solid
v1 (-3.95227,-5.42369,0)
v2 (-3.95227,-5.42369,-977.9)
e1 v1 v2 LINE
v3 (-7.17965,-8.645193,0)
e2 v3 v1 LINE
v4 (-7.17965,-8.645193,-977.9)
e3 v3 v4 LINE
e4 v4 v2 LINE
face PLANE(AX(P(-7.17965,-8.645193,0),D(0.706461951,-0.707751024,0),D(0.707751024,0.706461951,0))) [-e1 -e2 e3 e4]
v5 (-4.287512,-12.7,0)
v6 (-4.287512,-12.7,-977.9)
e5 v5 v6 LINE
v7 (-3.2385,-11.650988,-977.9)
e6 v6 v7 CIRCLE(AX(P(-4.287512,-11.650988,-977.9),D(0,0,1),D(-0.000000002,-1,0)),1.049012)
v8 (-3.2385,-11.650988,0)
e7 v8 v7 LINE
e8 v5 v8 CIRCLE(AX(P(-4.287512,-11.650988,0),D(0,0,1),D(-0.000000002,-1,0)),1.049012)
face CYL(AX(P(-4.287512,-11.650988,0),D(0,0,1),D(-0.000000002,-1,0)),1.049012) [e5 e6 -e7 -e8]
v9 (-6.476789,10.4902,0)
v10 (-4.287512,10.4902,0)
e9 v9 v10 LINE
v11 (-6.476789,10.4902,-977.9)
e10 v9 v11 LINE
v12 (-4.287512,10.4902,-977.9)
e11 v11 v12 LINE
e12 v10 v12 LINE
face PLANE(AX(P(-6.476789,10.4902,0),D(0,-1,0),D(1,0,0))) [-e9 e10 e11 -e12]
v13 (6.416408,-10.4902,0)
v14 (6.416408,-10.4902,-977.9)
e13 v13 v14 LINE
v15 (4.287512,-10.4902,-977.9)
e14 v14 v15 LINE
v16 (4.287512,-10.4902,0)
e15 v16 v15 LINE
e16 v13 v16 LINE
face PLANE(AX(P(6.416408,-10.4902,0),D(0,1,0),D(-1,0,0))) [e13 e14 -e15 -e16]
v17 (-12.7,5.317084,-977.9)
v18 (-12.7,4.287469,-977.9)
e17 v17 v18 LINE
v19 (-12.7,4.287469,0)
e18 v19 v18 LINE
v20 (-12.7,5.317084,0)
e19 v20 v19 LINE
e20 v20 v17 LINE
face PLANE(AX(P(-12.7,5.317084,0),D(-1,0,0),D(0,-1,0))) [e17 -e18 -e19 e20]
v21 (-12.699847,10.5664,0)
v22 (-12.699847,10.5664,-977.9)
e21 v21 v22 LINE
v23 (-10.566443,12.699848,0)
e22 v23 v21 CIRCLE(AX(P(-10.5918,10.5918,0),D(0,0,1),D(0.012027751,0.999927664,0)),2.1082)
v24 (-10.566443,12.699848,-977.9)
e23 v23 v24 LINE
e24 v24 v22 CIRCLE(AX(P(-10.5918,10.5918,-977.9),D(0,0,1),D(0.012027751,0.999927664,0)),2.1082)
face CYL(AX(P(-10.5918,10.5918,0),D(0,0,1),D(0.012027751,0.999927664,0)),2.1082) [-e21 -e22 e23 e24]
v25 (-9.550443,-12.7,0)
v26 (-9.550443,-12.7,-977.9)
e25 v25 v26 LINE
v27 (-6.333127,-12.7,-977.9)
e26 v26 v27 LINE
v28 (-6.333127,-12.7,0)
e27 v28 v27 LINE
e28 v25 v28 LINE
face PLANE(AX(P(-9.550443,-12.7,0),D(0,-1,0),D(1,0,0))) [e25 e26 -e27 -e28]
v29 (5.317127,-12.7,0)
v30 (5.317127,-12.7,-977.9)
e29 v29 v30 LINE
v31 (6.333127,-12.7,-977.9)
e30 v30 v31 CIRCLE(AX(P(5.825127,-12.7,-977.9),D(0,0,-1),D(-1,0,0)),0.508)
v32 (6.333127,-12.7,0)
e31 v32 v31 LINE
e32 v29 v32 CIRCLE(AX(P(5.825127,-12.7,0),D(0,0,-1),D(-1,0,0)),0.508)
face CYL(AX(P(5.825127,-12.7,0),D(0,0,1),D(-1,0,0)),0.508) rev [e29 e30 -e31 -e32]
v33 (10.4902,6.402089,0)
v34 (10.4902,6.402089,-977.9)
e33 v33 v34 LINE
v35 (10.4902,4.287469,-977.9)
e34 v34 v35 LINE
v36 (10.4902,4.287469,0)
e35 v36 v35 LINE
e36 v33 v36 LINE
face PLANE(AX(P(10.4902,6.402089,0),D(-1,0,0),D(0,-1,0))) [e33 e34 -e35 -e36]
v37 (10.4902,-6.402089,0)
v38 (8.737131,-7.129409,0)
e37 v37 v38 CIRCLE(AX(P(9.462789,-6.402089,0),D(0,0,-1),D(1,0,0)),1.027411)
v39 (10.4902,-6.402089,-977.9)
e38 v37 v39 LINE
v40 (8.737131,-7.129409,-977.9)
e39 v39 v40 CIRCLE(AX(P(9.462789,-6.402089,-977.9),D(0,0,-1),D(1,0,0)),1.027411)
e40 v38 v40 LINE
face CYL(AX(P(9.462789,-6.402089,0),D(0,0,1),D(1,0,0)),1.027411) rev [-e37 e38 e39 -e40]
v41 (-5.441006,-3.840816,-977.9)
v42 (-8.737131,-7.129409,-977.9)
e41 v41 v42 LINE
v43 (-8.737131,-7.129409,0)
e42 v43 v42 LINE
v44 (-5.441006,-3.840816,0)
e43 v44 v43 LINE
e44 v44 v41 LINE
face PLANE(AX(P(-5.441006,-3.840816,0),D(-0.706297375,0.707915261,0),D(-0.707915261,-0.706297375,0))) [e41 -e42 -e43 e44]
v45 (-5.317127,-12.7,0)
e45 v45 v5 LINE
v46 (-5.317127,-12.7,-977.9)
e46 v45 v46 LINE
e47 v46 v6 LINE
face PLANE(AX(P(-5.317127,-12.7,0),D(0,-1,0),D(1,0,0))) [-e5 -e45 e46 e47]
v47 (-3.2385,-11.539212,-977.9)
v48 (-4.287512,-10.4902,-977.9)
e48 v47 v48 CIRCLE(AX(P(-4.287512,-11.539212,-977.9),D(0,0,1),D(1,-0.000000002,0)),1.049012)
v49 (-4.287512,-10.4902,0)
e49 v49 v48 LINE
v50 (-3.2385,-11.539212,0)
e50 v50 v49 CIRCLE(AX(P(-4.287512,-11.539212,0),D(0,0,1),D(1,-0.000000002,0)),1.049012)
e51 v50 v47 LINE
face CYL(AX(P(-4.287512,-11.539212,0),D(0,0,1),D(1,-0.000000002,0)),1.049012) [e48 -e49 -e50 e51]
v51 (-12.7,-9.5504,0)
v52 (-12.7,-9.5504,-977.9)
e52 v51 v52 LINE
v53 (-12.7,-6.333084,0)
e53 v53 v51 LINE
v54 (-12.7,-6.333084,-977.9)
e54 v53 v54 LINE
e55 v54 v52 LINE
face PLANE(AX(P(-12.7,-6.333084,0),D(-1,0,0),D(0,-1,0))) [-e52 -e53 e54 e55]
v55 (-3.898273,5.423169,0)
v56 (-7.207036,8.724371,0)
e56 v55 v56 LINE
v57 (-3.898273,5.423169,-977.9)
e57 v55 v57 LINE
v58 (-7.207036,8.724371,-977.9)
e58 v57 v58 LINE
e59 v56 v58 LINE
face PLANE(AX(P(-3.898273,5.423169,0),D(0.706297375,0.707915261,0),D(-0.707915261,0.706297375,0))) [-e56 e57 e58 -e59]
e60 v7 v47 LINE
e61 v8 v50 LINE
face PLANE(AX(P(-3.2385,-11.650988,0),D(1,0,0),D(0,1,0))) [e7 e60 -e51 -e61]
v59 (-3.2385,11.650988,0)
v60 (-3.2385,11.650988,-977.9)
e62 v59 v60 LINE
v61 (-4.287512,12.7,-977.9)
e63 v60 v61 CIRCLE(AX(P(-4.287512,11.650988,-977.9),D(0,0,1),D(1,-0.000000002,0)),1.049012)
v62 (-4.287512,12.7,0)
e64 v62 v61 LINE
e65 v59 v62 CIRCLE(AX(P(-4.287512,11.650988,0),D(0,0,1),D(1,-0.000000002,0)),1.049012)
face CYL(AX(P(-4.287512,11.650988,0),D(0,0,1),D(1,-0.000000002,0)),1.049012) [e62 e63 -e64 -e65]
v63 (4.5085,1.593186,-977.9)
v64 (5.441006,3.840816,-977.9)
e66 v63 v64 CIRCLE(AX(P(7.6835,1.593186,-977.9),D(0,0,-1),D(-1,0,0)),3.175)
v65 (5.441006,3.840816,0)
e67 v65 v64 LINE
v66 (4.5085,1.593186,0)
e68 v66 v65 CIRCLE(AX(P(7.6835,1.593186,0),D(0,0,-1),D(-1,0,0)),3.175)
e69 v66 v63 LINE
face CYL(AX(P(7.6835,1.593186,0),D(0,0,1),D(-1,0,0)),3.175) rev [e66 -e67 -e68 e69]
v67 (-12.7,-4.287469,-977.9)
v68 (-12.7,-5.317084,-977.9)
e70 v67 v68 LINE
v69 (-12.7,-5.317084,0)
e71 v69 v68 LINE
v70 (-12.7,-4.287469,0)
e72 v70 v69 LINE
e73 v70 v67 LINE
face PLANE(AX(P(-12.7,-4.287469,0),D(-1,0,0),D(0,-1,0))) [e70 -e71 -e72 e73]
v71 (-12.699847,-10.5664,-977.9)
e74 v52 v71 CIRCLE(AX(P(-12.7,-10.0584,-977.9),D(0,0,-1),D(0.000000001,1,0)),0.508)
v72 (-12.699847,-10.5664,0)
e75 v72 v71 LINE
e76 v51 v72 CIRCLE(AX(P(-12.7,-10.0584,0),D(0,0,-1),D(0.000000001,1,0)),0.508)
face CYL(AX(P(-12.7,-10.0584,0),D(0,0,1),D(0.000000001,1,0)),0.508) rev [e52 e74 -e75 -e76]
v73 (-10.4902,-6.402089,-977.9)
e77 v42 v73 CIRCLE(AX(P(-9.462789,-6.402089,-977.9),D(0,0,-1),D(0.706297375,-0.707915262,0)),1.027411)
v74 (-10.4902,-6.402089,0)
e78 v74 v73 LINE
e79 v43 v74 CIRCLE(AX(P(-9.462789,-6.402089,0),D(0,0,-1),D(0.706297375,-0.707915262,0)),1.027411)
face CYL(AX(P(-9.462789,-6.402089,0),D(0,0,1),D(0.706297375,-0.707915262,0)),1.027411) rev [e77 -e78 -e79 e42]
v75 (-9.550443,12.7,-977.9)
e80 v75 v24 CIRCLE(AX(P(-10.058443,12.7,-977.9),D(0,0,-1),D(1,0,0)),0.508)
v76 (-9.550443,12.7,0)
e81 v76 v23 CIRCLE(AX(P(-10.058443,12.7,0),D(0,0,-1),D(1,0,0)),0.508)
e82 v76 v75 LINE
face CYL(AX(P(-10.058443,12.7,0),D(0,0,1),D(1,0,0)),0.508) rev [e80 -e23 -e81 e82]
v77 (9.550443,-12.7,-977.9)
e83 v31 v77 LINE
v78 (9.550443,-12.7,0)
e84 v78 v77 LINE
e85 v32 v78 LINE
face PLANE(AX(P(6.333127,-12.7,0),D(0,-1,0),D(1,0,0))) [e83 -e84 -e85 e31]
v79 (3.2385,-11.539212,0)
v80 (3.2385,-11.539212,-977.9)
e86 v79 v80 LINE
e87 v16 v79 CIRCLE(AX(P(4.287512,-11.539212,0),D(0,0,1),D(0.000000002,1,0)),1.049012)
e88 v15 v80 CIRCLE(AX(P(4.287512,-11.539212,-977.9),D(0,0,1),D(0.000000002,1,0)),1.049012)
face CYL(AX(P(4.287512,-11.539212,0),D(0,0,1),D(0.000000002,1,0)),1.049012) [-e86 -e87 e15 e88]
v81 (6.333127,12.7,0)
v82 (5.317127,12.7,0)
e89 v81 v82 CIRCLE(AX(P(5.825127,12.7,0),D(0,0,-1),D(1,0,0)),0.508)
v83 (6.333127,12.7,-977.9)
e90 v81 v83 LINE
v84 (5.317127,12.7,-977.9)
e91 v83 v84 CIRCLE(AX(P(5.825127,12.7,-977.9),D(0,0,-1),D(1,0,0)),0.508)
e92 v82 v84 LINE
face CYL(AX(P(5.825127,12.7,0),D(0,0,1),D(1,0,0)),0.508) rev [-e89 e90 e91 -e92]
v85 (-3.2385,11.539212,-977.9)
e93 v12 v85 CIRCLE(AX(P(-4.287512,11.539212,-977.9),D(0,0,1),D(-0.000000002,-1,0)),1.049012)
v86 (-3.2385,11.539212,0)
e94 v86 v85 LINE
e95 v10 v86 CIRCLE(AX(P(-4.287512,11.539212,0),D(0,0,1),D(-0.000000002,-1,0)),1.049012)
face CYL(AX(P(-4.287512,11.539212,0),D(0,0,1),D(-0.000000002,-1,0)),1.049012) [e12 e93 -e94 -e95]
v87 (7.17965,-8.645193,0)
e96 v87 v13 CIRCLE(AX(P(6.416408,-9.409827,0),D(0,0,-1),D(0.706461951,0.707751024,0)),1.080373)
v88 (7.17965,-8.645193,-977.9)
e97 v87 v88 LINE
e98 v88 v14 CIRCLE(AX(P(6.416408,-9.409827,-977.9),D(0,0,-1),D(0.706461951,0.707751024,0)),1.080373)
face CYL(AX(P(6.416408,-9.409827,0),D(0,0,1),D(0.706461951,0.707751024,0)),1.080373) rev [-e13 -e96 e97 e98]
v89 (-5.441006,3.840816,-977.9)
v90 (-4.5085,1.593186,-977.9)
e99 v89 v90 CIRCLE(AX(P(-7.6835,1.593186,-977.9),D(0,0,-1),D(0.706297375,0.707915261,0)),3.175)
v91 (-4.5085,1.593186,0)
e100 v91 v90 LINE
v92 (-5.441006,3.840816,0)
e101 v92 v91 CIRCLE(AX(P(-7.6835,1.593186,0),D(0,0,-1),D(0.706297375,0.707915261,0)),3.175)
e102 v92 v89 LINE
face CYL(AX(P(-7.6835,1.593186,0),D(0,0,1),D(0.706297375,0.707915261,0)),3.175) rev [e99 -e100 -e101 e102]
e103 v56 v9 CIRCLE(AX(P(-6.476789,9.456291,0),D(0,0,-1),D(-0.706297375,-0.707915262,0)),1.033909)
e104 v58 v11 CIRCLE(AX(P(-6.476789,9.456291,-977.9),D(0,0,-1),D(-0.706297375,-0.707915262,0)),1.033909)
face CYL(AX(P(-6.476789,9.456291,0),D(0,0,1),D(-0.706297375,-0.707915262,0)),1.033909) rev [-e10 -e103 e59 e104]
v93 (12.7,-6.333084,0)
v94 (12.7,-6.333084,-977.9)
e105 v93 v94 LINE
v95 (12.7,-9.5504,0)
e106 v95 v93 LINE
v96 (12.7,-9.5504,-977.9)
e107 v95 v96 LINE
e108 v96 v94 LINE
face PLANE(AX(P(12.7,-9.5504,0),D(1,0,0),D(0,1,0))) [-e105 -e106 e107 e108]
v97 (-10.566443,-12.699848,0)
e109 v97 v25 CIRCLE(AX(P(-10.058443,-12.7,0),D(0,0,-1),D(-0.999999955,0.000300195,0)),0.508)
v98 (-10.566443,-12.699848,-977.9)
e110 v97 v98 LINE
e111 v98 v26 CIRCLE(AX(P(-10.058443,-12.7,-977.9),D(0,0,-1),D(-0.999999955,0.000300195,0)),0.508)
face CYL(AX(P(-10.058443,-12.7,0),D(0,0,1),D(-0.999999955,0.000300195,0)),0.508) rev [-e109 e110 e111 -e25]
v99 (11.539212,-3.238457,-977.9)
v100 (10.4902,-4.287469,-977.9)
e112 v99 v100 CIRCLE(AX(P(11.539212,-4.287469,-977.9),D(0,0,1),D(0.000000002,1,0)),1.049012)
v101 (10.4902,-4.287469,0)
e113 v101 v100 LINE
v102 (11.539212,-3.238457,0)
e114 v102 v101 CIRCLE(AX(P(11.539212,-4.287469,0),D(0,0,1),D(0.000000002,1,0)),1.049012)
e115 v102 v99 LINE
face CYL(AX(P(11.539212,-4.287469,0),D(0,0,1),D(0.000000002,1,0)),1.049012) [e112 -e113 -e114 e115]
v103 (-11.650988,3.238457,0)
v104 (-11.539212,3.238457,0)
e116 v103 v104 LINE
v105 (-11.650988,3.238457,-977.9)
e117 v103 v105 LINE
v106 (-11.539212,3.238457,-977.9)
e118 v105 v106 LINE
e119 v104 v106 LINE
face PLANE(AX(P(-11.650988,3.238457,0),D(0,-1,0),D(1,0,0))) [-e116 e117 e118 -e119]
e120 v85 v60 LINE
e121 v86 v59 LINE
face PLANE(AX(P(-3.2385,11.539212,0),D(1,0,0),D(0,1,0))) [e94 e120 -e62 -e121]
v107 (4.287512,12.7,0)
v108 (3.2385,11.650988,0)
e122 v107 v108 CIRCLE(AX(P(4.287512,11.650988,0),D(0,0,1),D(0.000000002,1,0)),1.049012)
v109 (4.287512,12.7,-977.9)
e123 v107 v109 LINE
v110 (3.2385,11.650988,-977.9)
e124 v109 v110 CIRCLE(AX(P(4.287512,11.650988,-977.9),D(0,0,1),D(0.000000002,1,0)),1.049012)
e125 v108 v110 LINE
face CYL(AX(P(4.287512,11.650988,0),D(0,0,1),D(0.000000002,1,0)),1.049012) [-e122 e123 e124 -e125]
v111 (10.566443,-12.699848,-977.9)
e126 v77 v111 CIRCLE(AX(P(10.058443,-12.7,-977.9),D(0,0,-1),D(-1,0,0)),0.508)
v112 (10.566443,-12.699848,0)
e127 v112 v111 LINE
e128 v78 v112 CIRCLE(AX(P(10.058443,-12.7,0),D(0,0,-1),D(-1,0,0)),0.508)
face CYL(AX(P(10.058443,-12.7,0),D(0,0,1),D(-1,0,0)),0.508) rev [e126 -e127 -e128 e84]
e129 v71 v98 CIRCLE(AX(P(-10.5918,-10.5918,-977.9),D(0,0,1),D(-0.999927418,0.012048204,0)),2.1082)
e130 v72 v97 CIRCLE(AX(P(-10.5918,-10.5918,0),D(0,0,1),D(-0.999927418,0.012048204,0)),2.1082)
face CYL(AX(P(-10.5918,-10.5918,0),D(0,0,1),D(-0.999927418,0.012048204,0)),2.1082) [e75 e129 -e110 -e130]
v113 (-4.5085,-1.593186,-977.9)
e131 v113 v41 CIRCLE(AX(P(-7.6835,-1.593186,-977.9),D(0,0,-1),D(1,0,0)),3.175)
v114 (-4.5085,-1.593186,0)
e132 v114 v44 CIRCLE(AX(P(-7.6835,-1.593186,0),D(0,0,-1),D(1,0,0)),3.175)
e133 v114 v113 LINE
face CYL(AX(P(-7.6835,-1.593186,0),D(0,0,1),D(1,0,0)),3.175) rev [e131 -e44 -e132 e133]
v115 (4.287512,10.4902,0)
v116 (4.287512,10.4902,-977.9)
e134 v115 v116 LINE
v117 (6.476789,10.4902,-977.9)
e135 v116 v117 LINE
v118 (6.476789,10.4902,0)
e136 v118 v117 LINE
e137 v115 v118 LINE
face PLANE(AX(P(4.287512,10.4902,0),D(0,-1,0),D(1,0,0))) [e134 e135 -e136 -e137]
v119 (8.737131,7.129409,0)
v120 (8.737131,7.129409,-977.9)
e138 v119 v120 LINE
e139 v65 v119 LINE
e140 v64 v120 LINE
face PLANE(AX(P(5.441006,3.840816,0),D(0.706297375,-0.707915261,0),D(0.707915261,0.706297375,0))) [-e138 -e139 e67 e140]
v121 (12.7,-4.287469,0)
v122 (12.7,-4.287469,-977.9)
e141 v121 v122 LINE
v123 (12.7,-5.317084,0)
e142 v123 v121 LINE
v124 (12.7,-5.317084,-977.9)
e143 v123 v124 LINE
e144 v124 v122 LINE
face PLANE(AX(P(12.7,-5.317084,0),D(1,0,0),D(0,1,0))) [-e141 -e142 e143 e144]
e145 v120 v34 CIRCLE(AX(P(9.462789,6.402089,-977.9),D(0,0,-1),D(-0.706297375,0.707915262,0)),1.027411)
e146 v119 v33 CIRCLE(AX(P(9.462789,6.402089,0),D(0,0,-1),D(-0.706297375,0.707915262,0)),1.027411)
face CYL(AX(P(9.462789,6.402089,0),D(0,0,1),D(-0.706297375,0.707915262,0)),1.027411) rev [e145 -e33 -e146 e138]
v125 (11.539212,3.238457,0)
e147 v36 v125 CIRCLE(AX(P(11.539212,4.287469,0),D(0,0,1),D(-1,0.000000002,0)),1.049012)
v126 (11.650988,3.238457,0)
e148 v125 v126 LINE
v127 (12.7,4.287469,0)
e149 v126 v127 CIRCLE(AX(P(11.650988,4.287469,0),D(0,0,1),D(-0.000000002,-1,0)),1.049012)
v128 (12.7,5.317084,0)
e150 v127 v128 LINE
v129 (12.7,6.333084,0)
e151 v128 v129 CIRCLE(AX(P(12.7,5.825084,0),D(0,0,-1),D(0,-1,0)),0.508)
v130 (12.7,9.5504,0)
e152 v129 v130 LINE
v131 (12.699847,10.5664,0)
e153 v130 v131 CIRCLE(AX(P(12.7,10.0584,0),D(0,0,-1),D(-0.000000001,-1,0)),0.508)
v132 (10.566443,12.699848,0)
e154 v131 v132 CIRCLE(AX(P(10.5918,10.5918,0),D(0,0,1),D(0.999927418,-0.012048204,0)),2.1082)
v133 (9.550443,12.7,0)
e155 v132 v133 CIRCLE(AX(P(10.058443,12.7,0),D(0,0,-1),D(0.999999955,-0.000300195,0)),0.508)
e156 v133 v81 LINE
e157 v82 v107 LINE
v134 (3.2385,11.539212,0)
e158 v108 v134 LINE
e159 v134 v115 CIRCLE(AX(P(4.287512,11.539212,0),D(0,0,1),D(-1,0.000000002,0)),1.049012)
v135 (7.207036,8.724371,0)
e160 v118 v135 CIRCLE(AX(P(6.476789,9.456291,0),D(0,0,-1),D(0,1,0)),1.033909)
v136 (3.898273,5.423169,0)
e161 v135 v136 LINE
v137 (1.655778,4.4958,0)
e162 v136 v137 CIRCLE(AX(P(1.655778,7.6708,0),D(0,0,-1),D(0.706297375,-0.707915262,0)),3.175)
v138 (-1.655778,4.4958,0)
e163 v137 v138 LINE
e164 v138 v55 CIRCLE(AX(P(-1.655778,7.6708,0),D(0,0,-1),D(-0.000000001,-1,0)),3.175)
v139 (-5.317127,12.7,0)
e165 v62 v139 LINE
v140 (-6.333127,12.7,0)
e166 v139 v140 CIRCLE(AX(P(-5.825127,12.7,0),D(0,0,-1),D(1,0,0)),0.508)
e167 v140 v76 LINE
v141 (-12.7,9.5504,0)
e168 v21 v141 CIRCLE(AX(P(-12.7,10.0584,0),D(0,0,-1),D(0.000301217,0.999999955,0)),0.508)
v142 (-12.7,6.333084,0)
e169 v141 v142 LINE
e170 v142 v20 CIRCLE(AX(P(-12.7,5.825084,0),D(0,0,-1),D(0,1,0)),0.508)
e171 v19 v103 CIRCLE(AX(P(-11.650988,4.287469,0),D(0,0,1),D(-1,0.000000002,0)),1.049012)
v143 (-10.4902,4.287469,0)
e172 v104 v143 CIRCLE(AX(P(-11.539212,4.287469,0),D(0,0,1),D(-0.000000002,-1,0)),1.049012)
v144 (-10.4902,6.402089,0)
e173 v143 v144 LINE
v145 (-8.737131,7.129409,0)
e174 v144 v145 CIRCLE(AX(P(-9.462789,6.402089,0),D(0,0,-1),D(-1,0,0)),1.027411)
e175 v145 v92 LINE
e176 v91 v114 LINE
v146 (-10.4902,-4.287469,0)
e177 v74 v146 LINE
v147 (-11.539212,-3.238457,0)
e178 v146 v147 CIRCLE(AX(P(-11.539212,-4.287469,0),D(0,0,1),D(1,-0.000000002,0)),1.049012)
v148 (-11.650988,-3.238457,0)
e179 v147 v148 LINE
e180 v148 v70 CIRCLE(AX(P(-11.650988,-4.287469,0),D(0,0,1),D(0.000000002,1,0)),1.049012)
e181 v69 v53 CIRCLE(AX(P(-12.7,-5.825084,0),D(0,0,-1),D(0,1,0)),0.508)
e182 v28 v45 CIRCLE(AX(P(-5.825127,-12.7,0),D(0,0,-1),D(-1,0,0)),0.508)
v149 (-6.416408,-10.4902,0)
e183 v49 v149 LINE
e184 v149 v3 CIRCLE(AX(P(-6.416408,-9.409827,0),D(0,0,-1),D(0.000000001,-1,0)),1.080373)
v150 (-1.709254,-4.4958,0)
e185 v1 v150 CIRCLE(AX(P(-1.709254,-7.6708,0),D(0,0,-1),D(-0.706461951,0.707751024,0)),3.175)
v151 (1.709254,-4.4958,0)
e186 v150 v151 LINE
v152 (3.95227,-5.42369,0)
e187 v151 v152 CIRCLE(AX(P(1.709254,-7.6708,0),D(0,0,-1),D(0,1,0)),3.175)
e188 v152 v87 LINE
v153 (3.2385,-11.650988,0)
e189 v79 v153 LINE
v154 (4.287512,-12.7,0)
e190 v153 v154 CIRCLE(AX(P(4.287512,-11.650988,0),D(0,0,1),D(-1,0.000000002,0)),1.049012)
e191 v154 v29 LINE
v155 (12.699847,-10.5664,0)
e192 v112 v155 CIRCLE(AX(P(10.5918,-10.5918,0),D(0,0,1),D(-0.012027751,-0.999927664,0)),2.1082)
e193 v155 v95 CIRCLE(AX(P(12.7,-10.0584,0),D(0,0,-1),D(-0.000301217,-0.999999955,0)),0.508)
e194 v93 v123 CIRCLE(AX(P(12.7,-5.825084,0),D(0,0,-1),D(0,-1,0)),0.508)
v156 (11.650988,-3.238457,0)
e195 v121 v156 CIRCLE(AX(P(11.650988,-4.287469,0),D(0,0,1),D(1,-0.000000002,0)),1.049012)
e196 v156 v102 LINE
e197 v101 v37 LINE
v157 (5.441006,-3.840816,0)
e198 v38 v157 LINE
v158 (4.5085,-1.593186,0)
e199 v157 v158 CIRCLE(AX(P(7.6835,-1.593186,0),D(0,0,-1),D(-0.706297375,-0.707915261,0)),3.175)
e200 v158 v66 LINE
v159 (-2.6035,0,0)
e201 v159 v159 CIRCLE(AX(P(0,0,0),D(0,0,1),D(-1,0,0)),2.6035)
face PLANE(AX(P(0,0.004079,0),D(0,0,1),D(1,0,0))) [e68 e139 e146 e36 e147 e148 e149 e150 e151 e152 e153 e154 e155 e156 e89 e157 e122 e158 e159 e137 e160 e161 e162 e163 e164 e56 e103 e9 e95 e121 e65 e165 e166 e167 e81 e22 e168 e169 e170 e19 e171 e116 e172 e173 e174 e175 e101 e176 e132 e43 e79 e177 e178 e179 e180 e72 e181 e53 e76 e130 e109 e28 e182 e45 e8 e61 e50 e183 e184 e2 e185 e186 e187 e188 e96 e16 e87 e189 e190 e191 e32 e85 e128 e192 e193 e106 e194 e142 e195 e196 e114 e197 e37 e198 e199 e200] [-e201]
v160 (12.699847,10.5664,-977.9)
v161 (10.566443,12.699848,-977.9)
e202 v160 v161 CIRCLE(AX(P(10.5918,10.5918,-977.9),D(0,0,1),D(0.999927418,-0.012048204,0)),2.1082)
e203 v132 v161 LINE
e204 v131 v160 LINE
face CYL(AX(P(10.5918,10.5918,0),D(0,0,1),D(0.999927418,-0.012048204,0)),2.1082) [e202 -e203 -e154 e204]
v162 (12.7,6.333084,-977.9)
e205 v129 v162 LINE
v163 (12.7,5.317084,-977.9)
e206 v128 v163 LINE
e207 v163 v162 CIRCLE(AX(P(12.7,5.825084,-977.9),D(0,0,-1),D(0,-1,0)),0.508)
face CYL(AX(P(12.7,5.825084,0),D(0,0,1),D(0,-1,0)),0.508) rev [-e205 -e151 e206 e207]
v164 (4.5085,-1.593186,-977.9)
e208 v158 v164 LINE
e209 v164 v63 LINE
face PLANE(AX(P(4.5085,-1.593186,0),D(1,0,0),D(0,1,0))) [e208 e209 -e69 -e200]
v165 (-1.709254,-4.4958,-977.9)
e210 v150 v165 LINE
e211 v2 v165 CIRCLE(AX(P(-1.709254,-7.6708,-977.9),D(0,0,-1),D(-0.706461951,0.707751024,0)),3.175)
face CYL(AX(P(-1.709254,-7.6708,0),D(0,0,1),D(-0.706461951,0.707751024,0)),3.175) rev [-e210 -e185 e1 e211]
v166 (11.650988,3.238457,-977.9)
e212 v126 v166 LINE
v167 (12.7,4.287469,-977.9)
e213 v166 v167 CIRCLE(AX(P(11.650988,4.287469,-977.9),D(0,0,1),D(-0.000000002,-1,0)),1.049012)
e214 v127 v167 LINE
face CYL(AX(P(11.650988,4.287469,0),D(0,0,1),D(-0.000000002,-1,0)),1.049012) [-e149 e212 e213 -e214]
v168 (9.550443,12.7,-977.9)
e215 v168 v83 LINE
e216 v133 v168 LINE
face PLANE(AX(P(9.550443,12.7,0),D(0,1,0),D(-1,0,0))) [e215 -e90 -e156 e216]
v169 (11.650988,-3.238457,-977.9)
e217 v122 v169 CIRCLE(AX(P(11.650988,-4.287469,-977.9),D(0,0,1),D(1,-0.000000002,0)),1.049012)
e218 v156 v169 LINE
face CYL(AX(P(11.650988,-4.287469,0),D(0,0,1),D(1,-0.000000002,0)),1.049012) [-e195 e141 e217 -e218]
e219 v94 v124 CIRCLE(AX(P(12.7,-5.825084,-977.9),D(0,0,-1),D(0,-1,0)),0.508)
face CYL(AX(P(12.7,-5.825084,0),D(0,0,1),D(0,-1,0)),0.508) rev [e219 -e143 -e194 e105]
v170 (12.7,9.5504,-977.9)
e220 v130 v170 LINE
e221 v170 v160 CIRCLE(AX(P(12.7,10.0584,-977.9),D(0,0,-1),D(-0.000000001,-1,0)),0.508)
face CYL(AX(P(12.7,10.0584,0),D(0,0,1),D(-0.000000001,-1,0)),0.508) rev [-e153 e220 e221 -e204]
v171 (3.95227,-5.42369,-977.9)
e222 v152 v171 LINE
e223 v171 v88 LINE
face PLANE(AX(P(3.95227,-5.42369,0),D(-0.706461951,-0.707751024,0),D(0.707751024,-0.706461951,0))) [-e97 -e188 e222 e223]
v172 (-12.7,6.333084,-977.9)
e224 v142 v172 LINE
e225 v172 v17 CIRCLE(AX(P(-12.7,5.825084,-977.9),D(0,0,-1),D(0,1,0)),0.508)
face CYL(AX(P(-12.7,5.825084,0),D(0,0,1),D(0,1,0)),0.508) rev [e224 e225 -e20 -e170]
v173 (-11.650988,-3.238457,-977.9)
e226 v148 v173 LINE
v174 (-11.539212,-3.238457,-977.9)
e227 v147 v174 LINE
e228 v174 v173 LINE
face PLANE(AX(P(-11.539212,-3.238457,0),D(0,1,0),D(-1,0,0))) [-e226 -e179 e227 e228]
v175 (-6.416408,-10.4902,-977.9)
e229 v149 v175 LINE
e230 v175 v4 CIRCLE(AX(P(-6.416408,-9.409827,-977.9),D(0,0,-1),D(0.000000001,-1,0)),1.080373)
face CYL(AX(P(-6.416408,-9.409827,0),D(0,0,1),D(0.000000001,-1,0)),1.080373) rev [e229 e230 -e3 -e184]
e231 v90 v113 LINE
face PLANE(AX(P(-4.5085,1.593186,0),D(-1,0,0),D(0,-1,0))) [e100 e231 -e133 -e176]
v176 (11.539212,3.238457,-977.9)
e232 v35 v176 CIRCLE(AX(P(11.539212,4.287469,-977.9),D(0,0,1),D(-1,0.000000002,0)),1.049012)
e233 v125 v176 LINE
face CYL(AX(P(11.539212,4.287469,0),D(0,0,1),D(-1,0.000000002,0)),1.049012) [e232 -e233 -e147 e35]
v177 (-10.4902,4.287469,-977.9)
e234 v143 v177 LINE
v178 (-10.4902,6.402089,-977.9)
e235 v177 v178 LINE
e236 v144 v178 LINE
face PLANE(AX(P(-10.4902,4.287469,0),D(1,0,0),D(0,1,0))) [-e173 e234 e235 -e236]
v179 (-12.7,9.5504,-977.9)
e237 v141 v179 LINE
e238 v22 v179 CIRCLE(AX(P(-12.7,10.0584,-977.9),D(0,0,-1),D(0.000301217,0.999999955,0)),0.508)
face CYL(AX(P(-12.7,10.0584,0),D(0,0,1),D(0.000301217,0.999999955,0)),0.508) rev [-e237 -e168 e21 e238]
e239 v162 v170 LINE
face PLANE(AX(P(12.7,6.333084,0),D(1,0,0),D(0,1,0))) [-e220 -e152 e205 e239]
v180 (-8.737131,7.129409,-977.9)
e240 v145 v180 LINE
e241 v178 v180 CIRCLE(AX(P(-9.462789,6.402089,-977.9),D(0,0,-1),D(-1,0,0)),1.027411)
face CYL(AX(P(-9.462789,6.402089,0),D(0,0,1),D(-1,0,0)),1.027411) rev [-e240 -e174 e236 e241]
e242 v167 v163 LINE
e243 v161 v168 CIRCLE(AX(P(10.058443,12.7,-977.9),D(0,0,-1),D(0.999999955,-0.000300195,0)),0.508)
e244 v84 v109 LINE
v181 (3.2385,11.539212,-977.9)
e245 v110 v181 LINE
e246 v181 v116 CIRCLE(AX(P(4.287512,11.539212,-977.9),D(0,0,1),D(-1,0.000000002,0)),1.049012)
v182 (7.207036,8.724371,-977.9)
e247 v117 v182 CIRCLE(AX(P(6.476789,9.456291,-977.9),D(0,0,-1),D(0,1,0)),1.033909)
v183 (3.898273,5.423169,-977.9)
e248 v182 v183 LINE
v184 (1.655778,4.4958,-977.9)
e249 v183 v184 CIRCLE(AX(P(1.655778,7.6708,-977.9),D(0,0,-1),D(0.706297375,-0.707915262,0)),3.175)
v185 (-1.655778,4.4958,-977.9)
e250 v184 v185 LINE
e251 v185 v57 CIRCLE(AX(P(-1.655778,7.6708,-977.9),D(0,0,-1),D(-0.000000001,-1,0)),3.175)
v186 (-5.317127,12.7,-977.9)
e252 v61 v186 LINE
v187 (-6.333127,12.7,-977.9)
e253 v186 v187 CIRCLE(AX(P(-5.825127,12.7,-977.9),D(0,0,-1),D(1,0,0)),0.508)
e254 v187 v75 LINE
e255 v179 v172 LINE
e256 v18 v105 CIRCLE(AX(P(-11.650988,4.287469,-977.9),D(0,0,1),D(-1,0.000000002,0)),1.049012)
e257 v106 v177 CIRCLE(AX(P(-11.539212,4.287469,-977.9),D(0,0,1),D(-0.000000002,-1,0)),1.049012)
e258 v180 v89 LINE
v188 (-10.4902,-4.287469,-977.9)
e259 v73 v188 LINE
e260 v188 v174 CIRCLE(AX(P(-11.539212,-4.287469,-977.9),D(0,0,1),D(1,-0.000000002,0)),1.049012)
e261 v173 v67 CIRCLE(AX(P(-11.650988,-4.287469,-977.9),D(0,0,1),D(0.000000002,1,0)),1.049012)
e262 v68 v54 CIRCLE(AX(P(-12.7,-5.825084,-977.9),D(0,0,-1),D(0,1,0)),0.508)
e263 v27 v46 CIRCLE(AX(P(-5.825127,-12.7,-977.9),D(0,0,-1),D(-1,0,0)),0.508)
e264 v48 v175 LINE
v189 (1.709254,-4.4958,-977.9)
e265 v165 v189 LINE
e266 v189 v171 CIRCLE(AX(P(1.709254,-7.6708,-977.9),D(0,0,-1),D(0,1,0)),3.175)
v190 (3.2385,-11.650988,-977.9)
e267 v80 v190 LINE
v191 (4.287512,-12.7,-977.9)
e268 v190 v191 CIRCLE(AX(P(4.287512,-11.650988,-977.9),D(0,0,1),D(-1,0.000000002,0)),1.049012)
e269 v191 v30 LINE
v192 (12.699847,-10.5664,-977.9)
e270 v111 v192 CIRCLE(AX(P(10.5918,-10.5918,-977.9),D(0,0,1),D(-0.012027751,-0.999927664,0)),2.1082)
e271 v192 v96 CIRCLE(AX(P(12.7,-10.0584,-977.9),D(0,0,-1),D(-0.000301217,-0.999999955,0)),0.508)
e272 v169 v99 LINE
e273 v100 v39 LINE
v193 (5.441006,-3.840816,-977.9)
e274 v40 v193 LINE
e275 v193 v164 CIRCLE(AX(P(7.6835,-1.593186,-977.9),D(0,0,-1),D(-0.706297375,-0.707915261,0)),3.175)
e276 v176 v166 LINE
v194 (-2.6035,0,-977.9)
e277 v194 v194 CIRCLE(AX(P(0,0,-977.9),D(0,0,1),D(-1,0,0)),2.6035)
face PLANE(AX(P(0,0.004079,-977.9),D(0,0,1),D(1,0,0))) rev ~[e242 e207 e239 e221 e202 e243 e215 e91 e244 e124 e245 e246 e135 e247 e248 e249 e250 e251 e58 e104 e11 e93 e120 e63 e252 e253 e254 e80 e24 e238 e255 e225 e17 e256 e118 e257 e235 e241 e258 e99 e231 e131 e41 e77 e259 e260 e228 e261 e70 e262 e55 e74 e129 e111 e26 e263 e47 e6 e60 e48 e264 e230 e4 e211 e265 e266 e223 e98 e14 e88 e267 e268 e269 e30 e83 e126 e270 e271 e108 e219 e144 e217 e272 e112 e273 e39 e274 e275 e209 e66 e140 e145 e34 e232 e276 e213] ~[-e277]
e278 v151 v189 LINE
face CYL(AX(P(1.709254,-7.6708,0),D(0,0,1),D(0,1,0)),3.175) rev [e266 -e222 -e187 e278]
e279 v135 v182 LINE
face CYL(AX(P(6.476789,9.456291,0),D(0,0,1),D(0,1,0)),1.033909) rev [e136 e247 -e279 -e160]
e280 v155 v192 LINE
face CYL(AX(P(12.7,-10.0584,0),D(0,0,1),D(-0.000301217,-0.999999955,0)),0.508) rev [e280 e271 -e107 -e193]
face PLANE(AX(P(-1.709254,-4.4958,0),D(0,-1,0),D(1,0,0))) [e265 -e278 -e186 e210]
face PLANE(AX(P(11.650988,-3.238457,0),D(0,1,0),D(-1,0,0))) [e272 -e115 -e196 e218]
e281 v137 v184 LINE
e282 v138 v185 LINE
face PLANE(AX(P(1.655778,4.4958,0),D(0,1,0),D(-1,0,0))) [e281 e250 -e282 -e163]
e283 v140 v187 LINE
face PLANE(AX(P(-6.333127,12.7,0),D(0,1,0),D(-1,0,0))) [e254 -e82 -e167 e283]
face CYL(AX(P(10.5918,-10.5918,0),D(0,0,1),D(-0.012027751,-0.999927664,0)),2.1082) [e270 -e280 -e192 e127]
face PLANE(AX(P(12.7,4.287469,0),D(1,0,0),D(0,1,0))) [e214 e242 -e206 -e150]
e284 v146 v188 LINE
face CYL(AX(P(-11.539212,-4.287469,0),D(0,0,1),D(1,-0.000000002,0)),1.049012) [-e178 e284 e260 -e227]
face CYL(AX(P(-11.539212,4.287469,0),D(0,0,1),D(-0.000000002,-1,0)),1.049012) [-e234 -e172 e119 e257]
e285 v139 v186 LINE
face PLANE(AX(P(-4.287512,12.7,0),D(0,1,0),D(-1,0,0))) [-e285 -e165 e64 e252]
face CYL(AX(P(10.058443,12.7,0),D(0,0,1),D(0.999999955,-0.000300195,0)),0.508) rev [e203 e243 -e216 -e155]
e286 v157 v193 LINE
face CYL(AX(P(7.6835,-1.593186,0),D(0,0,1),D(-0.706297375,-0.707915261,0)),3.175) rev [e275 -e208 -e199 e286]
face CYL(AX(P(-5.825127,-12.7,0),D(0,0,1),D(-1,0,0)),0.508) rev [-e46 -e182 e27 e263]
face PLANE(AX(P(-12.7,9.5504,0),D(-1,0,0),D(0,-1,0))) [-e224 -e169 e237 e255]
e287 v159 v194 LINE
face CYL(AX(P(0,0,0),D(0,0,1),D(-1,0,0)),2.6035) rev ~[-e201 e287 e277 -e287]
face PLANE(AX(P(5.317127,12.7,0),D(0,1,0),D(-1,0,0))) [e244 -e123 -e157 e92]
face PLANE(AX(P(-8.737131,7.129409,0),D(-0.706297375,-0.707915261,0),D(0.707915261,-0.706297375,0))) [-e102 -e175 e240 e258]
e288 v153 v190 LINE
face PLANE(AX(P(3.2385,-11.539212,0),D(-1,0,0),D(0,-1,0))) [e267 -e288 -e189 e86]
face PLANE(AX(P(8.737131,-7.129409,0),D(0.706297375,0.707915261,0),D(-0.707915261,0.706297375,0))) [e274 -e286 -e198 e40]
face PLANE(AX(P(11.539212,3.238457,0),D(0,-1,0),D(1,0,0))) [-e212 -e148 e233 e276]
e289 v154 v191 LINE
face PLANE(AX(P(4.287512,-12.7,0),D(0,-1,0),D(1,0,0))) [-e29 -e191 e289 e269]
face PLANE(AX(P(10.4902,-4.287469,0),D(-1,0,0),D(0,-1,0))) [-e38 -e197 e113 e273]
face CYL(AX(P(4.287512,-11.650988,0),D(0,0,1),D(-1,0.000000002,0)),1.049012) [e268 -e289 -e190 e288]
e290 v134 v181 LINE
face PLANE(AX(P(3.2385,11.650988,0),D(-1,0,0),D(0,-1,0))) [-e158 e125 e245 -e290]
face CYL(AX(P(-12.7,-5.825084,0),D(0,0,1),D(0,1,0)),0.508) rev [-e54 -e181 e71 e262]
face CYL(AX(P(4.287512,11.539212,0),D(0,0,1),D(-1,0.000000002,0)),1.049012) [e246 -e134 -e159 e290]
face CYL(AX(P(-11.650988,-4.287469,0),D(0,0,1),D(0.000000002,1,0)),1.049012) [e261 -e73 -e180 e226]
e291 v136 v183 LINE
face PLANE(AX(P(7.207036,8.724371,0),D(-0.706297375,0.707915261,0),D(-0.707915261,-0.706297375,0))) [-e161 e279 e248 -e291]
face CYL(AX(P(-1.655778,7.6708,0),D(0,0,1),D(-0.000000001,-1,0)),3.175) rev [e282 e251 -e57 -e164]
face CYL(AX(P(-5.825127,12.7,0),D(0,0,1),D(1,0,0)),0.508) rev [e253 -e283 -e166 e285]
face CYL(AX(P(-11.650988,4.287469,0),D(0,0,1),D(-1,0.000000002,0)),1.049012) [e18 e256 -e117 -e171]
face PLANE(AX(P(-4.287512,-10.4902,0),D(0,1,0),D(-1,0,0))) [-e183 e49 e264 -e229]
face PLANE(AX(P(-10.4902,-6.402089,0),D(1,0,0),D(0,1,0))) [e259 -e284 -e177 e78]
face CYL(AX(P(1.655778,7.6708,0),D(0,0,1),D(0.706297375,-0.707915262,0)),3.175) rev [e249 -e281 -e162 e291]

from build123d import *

# Parameters (mm, degrees)
SKETCH1_R           = 2.6035
BOSS_EXTRUDE1_DEPTH = 977.9


with BuildPart() as part:
    # Sketch1 → Boss-Extrude1 (new body)
    with BuildSketch(Plane.XY):
        with BuildLine():
            Line((-7.179650497, -8.645192506), (-3.952270251, -5.423690499))
            ThreePointArc((-3.952270251, -5.423690499), (-2.922936451, -4.736929036), (-1.709253557, -4.4958))
            Line((-1.709253557, -4.4958), (1.709253557, -4.4958))
            ThreePointArc((1.709253557, -4.4958), (2.922936451, -4.736929036), (3.952270251, -5.423690499))
            Line((3.952270251, -5.423690499), (7.179650497, -8.645192506))
            ThreePointArc((7.179650497, -8.645192506), (7.41473083, -9.822813117), (6.416408329, -10.4902))
            Line((6.416408329, -10.4902), (4.287512407, -10.4902))
            ThreePointArc((4.287512407, -10.4902), (3.54574862, -10.79744862), (3.2385, -11.539212407))
            Line((3.2385, -11.539212407), (3.2385, -11.650987593))
            ThreePointArc((3.2385, -11.650987593), (3.54574862, -12.39275138), (4.287512407, -12.7))
            Line((4.287512407, -12.7), (5.317126718, -12.7))
            ThreePointArc((5.317126718, -12.7), (5.825126718, -12.192), (6.333126718, -12.7))
            Line((6.333126718, -12.7), (9.550443118, -12.7))
            ThreePointArc((9.550443118, -12.7), (10.058366869, -12.192000006), (10.566443095, -12.699847501))
            ThreePointArc((10.566443095, -12.699847501), (12.082537762, -12.08250727), (12.699846982, -10.566399977))
            ThreePointArc((12.699846982, -10.566399977), (12.192000006, -10.058323491), (12.7, -9.5504))
            Line((12.7, -9.5504), (12.7, -6.3330836))
            ThreePointArc((12.7, -6.3330836), (12.192, -5.8250836), (12.7, -5.3170836))
            Line((12.7, -5.3170836), (12.7, -4.287469289))
            ThreePointArc((12.7, -4.287469289), (12.39275138, -3.545705502), (11.650987593, -3.238456882))
            Line((11.650987593, -3.238456882), (11.539212407, -3.238456882))
            ThreePointArc((11.539212407, -3.238456882), (10.79744862, -3.545705502), (10.4902, -4.287469289))
            Line((10.4902, -4.287469289), (10.4902, -6.402089023))
            ThreePointArc((10.4902, -6.402089023), (9.856505071, -7.351067942), (8.737131347, -7.129408934))
            Line((8.737131347, -7.129408934), (5.441005833, -3.840816462))
            ThreePointArc((5.441005833, -3.840816462), (4.750877967, -2.809883091), (4.5085, -1.593185507))
            Line((4.5085, -1.593185507), (4.5085, 1.593185507))
            ThreePointArc((4.5085, 1.593185507), (4.750877967, 2.809883091), (5.441005833, 3.840816462))
            Line((5.441005833, 3.840816462), (8.737131347, 7.129408934))
            ThreePointArc((8.737131347, 7.129408934), (9.856505071, 7.351067942), (10.4902, 6.402089023))
            Line((10.4902, 6.402089023), (10.4902, 4.287469289))
            ThreePointArc((10.4902, 4.287469289), (10.79744862, 3.545705502), (11.539212407, 3.238456882))
            Line((11.539212407, 3.238456882), (11.650987593, 3.238456882))
            ThreePointArc((11.650987593, 3.238456882), (12.39275138, 3.545705502), (12.7, 4.287469289))
            Line((12.7, 4.287469289), (12.7, 5.3170836))
            ThreePointArc((12.7, 5.3170836), (12.192, 5.8250836), (12.7, 6.3330836))
            Line((12.7, 6.3330836), (12.7, 9.5504))
            ThreePointArc((12.7, 9.5504), (12.192000006, 10.058323491), (12.699846982, 10.566399977))
            ThreePointArc((12.699846982, 10.566399977), (12.082537762, 12.08250727), (10.566443095, 12.699847501))
            ThreePointArc((10.566443095, 12.699847501), (10.058366869, 12.192000006), (9.550443118, 12.7))
            Line((9.550443118, 12.7), (6.333126718, 12.7))
            ThreePointArc((6.333126718, 12.7), (5.825126718, 12.192), (5.317126718, 12.7))
            Line((5.317126718, 12.7), (4.287512407, 12.7))
            ThreePointArc((4.287512407, 12.7), (3.54574862, 12.39275138), (3.2385, 11.650987593))
            Line((3.2385, 11.650987593), (3.2385, 11.539212407))
            ThreePointArc((3.2385, 11.539212407), (3.54574862, 10.79744862), (4.287512407, 10.4902))
            Line((4.287512407, 10.4902), (6.476788598, 10.4902))
            ThreePointArc((6.476788598, 10.4902), (7.432222385, 9.85140422), (7.207036008, 8.724370562))
            Line((7.207036008, 8.724370562), (3.898272566, 5.423169045))
            ThreePointArc((3.898272566, 5.423169045), (2.869120213, 4.736787962), (1.655778399, 4.4958))
            Line((1.655778399, 4.4958), (-1.655778399, 4.4958))
            ThreePointArc((-1.655778399, 4.4958), (-2.869120213, 4.736787962), (-3.898272566, 5.423169045))
            Line((-3.898272566, 5.423169045), (-7.207036008, 8.724370562))
            ThreePointArc((-7.207036008, 8.724370562), (-7.432222385, 9.85140422), (-6.476788598, 10.4902))
            Line((-6.476788598, 10.4902), (-4.287512407, 10.4902))
            ThreePointArc((-4.287512407, 10.4902), (-3.54574862, 10.79744862), (-3.2385, 11.539212407))
            Line((-3.2385, 11.539212407), (-3.2385, 11.650987593))
            ThreePointArc((-3.2385, 11.650987593), (-3.54574862, 12.39275138), (-4.287512407, 12.7))
            Line((-4.287512407, 12.7), (-5.317126718, 12.7))
            ThreePointArc((-5.317126718, 12.7), (-5.825126718, 12.192), (-6.333126718, 12.7))
            Line((-6.333126718, 12.7), (-9.550443118, 12.7))
            ThreePointArc((-9.550443118, 12.7), (-10.058366869, 12.192000006), (-10.566443095, 12.699847501))
            ThreePointArc((-10.566443095, 12.699847501), (-12.082537762, 12.08250727), (-12.699846982, 10.566399977))
            ThreePointArc((-12.699846982, 10.566399977), (-12.192000006, 10.058323491), (-12.7, 9.5504))
            Line((-12.7, 9.5504), (-12.7, 6.3330836))
            ThreePointArc((-12.7, 6.3330836), (-12.192, 5.8250836), (-12.7, 5.3170836))
            Line((-12.7, 5.3170836), (-12.7, 4.287469289))
            ThreePointArc((-12.7, 4.287469289), (-12.39275138, 3.545705502), (-11.650987593, 3.238456882))
            Line((-11.650987593, 3.238456882), (-11.539212407, 3.238456882))
            ThreePointArc((-11.539212407, 3.238456882), (-10.79744862, 3.545705502), (-10.4902, 4.287469289))
            Line((-10.4902, 4.287469289), (-10.4902, 6.402089023))
            ThreePointArc((-10.4902, 6.402089023), (-9.856505071, 7.351067942), (-8.737131347, 7.129408934))
            Line((-8.737131347, 7.129408934), (-5.441005833, 3.840816462))
            ThreePointArc((-5.441005833, 3.840816462), (-4.750877967, 2.809883091), (-4.5085, 1.593185507))
            Line((-4.5085, 1.593185507), (-4.5085, -1.593185507))
            ThreePointArc((-4.5085, -1.593185507), (-4.750877967, -2.809883091), (-5.441005833, -3.840816462))
            Line((-5.441005833, -3.840816462), (-8.737131347, -7.129408934))
            ThreePointArc((-8.737131347, -7.129408934), (-9.856505071, -7.351067942), (-10.4902, -6.402089023))
            Line((-10.4902, -6.402089023), (-10.4902, -4.287469289))
            ThreePointArc((-10.4902, -4.287469289), (-10.79744862, -3.545705502), (-11.539212407, -3.238456882))
            Line((-11.539212407, -3.238456882), (-11.650987593, -3.238456882))
            ThreePointArc((-11.650987593, -3.238456882), (-12.39275138, -3.545705502), (-12.7, -4.287469289))
            Line((-12.7, -4.287469289), (-12.7, -5.3170836))
            ThreePointArc((-12.7, -5.3170836), (-12.192, -5.8250836), (-12.7, -6.3330836))
            Line((-12.7, -6.3330836), (-12.7, -9.5504))
            ThreePointArc((-12.7, -9.5504), (-12.192000006, -10.058323491), (-12.699846982, -10.566399977))
            ThreePointArc((-12.699846982, -10.566399977), (-12.082537762, -12.08250727), (-10.566443095, -12.699847501))
            ThreePointArc((-10.566443095, -12.699847501), (-10.058366869, -12.192000006), (-9.550443118, -12.7))
            Line((-9.550443118, -12.7), (-6.333126718, -12.7))
            ThreePointArc((-6.333126718, -12.7), (-5.825126718, -12.192), (-5.317126718, -12.7))
            Line((-5.317126718, -12.7), (-4.287512407, -12.7))
            ThreePointArc((-4.287512407, -12.7), (-3.54574862, -12.39275138), (-3.2385, -11.650987593))
            Line((-3.2385, -11.650987593), (-3.2385, -11.539212407))
            ThreePointArc((-3.2385, -11.539212407), (-3.54574862, -10.79744862), (-4.287512407, -10.4902))
            Line((-4.287512407, -10.4902), (-6.416408329, -10.4902))
            ThreePointArc((-6.416408329, -10.4902), (-7.41473083, -9.822813117), (-7.179650497, -8.645192506))
        make_face()
        with Locations(Location((0, 0, 0), (0, 0, 180))):
            Circle(SKETCH1_R, mode=Mode.SUBTRACT)
    extrude(amount=-BOSS_EXTRUDE1_DEPTH)


solid = part.part
